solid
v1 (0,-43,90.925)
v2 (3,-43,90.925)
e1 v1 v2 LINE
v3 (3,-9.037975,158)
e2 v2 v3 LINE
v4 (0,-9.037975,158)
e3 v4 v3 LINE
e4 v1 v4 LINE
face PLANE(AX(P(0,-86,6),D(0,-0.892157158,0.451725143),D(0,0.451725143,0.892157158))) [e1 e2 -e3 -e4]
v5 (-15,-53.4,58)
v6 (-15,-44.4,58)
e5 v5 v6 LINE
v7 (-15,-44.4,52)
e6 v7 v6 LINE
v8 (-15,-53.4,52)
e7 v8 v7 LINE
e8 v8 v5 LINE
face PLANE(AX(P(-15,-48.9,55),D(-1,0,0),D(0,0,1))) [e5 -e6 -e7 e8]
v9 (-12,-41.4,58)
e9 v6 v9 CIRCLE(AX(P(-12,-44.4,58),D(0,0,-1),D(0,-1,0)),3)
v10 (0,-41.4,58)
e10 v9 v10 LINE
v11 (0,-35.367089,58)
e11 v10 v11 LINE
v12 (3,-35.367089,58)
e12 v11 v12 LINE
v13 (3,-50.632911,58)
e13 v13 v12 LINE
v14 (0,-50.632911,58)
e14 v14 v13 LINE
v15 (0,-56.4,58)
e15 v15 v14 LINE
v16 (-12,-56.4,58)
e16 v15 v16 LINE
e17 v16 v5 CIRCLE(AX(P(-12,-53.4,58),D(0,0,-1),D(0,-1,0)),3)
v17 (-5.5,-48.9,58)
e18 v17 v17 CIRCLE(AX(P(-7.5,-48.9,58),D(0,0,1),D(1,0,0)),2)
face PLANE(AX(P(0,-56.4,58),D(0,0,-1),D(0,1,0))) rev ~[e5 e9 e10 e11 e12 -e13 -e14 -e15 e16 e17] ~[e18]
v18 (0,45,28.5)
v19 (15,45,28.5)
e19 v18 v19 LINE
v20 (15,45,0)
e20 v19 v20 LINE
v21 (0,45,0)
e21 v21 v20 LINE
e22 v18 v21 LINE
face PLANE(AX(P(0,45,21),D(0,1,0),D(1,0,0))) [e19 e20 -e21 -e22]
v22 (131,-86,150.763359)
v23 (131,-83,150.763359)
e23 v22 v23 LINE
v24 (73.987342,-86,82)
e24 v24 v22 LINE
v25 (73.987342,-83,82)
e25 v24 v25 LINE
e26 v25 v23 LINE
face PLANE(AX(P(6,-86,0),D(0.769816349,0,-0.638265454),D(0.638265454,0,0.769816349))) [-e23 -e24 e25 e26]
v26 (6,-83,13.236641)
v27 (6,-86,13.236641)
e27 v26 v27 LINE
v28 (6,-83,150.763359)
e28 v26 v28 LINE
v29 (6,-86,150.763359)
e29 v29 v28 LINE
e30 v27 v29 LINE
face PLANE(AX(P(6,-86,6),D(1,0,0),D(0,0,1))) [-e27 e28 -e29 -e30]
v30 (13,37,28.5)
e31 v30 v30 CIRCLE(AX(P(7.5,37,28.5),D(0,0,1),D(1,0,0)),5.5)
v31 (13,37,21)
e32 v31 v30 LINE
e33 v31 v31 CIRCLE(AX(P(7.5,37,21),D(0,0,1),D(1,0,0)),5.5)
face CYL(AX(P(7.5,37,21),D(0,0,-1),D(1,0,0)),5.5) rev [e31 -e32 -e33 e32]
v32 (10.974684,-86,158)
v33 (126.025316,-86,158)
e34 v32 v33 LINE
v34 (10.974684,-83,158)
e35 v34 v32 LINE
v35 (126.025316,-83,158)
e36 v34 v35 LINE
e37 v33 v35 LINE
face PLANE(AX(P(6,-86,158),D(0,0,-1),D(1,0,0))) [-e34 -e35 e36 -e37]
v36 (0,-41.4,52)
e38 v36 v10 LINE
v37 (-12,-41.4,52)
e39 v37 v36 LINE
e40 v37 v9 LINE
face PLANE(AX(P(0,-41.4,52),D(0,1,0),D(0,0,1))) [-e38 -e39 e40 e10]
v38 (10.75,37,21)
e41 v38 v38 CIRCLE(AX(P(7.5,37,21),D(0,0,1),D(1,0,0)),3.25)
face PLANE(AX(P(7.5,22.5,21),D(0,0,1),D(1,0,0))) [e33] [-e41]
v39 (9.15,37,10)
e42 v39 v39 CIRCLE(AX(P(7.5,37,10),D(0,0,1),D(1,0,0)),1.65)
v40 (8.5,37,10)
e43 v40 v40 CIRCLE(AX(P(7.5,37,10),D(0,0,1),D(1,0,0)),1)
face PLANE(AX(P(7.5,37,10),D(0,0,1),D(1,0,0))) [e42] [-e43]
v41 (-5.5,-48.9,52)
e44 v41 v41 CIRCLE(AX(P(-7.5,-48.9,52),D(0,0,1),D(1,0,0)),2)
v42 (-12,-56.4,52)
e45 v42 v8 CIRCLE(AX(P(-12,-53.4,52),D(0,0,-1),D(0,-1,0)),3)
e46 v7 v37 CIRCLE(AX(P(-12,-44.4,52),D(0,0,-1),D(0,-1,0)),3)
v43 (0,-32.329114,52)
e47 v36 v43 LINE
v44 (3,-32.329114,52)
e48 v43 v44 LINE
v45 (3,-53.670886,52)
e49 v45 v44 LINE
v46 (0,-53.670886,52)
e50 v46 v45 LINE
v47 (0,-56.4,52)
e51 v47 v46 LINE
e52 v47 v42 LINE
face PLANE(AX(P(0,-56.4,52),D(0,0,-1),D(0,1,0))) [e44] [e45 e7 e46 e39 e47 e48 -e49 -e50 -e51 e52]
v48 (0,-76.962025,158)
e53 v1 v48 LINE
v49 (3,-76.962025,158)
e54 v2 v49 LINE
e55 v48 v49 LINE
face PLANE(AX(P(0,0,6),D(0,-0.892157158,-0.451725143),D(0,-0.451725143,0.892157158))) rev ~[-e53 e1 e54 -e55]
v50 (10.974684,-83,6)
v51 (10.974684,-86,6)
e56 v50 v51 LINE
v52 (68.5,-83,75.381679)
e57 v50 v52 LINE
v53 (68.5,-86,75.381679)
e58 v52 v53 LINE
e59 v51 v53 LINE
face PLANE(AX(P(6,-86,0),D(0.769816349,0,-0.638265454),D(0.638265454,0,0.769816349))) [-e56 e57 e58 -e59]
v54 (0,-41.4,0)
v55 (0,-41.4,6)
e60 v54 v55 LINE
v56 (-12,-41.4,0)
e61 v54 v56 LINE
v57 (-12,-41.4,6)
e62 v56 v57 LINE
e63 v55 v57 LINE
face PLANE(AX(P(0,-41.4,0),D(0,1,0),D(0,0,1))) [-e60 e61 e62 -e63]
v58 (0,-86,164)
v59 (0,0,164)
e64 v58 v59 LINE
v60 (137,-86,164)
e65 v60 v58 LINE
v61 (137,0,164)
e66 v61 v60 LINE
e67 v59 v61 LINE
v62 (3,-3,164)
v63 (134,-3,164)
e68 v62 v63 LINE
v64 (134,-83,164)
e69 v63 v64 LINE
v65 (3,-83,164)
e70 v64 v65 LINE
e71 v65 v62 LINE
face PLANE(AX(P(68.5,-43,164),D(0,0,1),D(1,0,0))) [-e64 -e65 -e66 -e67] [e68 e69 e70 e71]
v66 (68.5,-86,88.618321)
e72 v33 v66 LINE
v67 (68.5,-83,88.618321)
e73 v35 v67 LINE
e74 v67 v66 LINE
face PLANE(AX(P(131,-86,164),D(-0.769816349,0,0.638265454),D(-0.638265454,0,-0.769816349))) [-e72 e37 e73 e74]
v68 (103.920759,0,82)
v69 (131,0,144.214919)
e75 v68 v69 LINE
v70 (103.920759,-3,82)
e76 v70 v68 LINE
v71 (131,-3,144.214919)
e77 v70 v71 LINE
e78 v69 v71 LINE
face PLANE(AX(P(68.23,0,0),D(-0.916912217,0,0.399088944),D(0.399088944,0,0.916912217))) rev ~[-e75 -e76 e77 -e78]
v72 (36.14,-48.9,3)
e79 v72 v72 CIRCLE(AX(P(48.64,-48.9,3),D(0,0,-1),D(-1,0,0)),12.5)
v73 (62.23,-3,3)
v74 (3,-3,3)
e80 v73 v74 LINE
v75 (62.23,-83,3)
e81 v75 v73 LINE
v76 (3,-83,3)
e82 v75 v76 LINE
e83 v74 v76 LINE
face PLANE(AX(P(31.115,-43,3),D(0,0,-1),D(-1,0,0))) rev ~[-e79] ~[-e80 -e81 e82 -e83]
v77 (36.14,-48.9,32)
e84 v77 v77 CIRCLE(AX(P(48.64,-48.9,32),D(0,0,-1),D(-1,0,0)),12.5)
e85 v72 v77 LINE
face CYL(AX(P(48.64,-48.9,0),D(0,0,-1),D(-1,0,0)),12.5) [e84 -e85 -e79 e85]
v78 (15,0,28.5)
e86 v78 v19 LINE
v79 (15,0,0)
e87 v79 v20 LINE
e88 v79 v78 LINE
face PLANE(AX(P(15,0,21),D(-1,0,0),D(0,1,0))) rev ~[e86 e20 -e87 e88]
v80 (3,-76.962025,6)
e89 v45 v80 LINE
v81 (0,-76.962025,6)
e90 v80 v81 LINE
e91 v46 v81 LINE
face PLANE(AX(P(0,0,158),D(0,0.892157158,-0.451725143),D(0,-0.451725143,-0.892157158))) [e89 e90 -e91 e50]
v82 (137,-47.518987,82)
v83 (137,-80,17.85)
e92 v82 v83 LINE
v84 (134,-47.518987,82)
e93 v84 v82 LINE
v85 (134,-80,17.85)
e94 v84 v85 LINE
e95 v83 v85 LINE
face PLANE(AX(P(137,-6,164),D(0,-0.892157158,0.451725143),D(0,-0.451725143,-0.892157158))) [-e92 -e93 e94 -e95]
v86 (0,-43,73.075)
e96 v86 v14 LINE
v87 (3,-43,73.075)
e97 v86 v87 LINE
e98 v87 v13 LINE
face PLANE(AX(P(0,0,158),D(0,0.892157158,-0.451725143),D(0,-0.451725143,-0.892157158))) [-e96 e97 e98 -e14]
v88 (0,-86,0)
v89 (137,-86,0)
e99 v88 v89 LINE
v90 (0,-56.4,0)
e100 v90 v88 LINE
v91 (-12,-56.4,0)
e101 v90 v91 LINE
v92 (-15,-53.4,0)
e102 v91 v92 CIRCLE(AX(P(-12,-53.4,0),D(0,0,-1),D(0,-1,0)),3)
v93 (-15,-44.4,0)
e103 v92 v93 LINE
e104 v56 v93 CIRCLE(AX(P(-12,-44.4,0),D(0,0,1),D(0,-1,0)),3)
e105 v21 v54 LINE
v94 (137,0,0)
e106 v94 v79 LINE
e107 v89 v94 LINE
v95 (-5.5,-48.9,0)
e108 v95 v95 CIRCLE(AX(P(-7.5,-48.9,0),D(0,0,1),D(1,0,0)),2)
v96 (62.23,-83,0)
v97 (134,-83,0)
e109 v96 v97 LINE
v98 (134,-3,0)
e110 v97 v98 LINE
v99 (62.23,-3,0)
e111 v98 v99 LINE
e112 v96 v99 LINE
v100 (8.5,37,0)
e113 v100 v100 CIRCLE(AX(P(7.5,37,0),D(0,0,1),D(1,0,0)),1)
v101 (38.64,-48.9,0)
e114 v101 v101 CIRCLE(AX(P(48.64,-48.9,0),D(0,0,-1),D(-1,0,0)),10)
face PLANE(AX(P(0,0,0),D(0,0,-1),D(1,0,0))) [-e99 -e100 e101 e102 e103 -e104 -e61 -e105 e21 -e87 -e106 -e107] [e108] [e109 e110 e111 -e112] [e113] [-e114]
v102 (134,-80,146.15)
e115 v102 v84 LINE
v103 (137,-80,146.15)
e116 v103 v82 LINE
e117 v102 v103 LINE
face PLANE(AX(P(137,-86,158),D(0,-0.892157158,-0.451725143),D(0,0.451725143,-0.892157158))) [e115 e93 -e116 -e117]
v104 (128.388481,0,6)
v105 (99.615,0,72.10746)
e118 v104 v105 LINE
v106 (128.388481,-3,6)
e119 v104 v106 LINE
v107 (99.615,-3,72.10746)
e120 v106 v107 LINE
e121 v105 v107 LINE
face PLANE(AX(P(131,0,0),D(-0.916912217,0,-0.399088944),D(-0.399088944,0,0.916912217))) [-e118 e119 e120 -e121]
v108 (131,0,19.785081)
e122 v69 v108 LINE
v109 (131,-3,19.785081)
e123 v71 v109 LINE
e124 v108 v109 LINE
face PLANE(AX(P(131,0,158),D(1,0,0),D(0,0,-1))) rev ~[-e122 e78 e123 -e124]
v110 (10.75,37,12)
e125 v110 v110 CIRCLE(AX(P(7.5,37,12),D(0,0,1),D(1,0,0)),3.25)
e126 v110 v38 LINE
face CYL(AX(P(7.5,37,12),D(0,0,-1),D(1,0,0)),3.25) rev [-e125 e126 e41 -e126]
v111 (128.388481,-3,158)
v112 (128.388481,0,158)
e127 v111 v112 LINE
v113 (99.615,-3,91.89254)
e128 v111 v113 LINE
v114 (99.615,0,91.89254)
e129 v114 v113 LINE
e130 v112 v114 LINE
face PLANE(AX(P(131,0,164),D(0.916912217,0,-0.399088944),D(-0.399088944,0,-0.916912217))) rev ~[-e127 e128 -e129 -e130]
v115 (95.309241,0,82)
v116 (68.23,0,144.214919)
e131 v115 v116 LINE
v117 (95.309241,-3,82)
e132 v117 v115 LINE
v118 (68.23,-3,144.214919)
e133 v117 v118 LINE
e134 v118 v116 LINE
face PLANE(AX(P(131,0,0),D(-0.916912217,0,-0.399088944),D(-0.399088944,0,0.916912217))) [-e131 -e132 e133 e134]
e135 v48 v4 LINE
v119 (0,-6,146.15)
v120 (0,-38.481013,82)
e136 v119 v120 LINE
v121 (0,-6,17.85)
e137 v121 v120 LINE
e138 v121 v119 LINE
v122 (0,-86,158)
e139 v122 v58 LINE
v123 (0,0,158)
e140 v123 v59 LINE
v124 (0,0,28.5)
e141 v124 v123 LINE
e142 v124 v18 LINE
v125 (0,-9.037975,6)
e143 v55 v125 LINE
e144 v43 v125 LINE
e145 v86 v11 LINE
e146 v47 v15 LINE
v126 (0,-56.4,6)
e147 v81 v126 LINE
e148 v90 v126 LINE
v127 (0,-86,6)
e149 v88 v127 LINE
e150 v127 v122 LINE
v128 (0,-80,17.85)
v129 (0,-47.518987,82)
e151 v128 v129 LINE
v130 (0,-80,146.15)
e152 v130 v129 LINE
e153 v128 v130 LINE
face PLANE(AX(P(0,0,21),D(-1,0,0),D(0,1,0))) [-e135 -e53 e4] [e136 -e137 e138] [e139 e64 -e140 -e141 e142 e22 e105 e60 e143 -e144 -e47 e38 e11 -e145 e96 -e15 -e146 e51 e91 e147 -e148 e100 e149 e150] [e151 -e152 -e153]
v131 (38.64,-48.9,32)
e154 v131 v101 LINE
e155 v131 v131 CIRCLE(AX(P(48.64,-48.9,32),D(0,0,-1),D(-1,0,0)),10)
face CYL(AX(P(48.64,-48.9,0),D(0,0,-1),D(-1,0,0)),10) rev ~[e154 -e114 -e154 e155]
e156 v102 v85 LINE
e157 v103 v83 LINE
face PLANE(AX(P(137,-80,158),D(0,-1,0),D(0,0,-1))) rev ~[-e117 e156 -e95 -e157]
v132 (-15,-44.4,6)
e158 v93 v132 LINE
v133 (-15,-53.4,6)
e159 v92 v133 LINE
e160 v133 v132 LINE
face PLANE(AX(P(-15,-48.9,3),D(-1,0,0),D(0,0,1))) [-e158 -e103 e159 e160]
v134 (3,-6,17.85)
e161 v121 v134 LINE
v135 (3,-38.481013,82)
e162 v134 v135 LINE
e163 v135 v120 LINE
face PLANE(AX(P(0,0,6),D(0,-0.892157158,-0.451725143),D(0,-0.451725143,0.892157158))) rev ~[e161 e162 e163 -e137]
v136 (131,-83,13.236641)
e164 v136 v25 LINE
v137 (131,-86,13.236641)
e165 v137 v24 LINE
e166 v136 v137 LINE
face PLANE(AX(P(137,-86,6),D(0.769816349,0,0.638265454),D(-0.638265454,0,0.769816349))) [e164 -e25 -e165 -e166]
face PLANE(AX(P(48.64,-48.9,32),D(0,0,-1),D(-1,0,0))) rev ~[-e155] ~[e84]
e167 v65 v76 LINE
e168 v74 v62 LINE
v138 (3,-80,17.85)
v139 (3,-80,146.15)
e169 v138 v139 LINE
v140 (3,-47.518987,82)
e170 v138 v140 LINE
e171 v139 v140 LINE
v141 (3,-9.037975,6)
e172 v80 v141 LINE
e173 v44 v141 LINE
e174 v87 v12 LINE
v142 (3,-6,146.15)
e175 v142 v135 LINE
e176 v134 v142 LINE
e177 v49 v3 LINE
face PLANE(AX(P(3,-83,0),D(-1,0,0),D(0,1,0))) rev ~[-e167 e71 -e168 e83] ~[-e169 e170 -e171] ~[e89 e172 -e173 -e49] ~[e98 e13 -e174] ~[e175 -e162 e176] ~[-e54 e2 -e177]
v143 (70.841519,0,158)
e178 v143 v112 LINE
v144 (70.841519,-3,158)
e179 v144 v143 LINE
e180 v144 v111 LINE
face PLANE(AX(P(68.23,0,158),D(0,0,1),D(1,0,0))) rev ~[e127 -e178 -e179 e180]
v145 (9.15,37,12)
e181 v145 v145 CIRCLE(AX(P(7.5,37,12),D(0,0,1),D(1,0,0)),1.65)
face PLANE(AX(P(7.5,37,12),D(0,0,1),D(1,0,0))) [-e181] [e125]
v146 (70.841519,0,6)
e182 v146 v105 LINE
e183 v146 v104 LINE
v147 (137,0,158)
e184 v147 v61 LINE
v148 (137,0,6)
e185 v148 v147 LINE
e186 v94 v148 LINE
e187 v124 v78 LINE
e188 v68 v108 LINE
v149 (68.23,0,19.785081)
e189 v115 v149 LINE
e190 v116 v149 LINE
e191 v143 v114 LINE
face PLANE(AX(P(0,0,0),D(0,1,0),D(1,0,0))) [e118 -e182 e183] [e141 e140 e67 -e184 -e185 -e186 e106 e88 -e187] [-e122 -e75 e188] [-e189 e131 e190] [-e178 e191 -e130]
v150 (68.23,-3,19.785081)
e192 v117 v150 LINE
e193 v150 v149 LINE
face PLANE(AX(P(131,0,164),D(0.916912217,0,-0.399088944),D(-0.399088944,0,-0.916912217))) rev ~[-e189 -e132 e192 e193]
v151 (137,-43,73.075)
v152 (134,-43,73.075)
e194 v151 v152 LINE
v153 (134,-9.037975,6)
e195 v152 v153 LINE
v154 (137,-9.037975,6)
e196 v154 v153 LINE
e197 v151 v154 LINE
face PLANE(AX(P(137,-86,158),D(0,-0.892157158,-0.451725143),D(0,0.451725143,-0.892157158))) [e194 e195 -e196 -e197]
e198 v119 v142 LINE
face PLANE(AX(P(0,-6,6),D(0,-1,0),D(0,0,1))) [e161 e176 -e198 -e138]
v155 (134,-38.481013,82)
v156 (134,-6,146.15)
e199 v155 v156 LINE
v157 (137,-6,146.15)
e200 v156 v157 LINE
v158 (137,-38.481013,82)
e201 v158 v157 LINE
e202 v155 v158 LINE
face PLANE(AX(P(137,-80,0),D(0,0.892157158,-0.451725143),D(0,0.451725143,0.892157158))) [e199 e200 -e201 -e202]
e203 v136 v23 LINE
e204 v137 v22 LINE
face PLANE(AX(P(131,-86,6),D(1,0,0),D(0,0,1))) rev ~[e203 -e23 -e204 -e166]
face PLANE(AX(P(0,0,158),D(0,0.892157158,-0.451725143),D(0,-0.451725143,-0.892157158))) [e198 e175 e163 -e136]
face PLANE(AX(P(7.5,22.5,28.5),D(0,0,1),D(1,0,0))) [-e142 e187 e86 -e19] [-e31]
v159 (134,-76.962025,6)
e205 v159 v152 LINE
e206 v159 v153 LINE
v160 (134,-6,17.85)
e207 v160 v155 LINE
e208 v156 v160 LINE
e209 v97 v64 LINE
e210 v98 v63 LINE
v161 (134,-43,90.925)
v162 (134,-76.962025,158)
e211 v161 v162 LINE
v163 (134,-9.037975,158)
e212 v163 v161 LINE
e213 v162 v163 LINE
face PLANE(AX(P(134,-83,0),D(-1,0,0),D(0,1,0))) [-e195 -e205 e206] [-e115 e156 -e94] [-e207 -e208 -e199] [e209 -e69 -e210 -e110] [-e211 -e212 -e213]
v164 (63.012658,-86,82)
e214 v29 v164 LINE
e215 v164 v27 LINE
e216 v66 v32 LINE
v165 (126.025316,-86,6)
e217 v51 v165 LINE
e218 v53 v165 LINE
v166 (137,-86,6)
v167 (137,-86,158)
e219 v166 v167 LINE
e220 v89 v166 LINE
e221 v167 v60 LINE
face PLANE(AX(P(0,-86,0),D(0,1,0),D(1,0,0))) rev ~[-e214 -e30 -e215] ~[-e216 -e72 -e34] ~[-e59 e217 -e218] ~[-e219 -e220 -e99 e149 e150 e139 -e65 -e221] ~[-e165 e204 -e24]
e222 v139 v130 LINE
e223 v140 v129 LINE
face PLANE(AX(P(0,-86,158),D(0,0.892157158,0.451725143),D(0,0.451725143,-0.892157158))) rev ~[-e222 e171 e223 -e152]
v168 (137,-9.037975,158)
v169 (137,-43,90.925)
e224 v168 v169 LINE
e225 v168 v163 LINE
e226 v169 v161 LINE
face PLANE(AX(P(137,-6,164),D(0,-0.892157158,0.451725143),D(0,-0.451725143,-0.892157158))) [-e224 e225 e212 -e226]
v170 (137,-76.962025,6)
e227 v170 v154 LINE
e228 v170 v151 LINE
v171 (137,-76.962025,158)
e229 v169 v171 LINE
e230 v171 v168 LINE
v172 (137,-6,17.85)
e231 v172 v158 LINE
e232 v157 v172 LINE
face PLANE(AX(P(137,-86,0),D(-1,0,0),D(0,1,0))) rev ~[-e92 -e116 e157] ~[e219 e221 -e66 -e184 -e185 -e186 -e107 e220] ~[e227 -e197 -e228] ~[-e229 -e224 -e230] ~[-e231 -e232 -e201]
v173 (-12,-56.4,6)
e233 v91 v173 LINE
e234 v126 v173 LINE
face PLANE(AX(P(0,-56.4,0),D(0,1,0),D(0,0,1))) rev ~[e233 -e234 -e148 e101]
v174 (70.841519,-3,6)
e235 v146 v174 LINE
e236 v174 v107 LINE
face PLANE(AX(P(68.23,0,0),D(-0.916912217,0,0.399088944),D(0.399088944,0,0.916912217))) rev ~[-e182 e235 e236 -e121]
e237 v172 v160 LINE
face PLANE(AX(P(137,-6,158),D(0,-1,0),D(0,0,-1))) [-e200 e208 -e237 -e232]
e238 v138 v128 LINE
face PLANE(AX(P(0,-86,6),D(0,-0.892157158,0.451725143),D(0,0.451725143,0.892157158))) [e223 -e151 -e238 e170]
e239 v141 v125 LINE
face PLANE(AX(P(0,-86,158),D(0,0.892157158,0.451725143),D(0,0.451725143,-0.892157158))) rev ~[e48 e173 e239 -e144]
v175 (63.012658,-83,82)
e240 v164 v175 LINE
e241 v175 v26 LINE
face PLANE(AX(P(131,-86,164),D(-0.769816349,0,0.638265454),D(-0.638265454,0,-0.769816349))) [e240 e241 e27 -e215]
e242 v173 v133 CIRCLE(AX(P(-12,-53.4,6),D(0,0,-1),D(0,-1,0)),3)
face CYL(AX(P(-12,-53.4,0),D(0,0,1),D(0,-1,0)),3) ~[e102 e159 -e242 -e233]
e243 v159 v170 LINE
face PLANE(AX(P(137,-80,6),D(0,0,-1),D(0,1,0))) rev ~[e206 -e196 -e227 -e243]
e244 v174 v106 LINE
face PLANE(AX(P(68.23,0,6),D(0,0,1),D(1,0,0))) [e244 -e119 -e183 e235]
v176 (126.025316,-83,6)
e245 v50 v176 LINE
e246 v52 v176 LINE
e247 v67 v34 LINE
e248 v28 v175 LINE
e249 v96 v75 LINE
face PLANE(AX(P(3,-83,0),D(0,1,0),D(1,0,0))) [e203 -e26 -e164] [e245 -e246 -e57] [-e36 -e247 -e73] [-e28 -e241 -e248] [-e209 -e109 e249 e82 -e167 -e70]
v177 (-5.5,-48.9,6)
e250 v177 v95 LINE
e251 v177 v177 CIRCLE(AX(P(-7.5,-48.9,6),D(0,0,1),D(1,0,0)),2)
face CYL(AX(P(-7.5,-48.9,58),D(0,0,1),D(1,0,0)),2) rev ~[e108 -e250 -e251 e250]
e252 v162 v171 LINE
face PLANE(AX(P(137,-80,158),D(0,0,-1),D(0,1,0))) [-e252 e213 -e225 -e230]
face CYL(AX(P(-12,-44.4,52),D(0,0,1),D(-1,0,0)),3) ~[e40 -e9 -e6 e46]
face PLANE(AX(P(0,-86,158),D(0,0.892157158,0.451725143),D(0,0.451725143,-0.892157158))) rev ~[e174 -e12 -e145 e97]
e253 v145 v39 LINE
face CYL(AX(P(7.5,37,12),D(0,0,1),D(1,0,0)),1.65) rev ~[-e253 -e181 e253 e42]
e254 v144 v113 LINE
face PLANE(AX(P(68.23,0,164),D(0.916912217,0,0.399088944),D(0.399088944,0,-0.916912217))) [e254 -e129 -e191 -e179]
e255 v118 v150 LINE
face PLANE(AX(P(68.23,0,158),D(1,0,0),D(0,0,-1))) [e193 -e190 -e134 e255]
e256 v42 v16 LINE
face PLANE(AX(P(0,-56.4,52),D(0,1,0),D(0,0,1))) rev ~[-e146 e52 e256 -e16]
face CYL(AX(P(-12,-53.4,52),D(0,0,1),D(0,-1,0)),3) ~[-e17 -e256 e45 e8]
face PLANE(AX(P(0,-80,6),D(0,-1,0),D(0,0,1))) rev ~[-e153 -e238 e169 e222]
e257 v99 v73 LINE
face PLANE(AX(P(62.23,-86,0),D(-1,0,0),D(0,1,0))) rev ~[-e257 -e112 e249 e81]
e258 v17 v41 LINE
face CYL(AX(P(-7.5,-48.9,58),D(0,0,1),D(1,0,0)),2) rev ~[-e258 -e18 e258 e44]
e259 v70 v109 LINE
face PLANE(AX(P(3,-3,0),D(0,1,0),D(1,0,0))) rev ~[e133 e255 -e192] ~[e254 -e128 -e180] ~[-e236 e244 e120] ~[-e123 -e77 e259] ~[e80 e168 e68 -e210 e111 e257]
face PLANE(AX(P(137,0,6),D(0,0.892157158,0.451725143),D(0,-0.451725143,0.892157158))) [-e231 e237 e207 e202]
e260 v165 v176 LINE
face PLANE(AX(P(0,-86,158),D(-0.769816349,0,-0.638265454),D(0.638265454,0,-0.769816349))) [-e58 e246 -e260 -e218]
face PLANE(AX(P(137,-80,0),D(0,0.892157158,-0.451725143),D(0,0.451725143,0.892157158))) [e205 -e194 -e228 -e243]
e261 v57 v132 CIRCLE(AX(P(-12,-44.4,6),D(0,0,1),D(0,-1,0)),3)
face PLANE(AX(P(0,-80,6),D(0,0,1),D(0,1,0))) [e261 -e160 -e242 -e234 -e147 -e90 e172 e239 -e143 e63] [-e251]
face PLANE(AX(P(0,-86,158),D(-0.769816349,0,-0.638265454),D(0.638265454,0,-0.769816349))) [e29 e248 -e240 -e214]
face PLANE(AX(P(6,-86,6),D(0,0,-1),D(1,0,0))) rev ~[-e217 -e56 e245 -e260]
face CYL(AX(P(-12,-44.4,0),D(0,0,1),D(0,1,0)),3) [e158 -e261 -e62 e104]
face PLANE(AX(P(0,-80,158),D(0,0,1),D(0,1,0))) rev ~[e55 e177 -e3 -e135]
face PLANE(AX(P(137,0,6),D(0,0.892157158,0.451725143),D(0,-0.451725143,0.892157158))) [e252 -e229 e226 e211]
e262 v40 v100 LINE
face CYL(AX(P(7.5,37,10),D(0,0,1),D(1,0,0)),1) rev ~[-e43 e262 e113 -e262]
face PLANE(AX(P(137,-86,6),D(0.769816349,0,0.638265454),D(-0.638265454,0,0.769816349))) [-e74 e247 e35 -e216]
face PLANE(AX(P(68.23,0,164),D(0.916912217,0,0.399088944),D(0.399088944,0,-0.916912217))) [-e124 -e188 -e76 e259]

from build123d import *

# Parameters (mm, degrees)
SKETCH1_W            = 137
SKETCH1_H            = 86
SKETCH1_W_2          = 131
SKETCH1_H_2          = 80
BOSS_EXTRUDE1_DEPTH  = 164
SKETCH2_W            = 125
SKETCH2_H            = 152
CUT_EXTRUDE1_DEPTH   = 3
BOSS_EXTRUDE2_DEPTH  = 3
BOSS_EXTRUDE3_DEPTH  = 3
SKETCH3_W            = 152
SKETCH3_H            = 74
CUT_EXTRUDE2_DEPTH   = 3
BOSS_EXTRUDE4_DEPTH  = 3
BOSS_EXTRUDE5_DEPTH  = 3
SKETCH4_W            = 152
SKETCH4_H            = 74
CUT_EXTRUDE3_DEPTH   = 3
BOSS_EXTRUDE6_DEPTH  = 3
BOSS_EXTRUDE7_DEPTH  = 3
SKETCH6_W            = 62.23
SKETCH6_H            = 86
BOSS_EXTRUDE8_DEPTH  = 3
SKETCH7_W            = 62.77
SKETCH7_H            = 152
CUT_EXTRUDE4_DEPTH   = 3
BOSS_EXTRUDE9_DEPTH  = 3
BOSS_EXTRUDE10_DEPTH = 3
SKETCH8_R            = 12.5
SKETCH8_R_2          = 10
BOSS_EXTRUDE11_DEPTH = 32
SKETCH8_4_R          = 10
CUT_EXTRUDE8_DEPTH   = 32
SKETCH9_W            = 6
SKETCH9_H            = 15
BOSS_EXTRUDE12_DEPTH = 15
SKETCH9_3_W          = 6
SKETCH9_3_H          = 15
BOSS_EXTRUDE13_DEPTH = 12
SKETCH9_4_W          = 6
SKETCH9_4_H          = 15
BOSS_EXTRUDE14_DEPTH = 15
FILLET1_R            = 3
SKETCH9_5_W          = 6
SKETCH9_5_H          = 28.664942424
BOSS_EXTRUDE17_DEPTH = 3
SKETCH16_R           = 2
CUT_EXTRUDE13_DEPTH  = 64
SKETCH11_W           = 15
SKETCH11_H           = 10
BOSS_EXTRUDE18_DEPTH = 45
SKETCH18_R           = 1
CUT_EXTRUDE14_DEPTH  = 10
SKETCH19_W           = 15
SKETCH19_H           = 45
BOSS_EXTRUDE19_DEPTH = 2
SKETCH20_R           = 1.65
CUT_EXTRUDE15_DEPTH  = 2
SKETCH21_W           = 15
SKETCH21_H           = 45
BOSS_EXTRUDE20_DEPTH = 9
SKETCH21_3_R         = 3.25
CUT_EXTRUDE16_DEPTH  = 9
SKETCH25_W           = 15
SKETCH25_H           = 45
SKETCH25_R           = 5.5
BOSS_EXTRUDE21_DEPTH = 7.5


with BuildPart() as part:
    # Sketch1 → Boss-Extrude1 (new body)
    with BuildSketch(Plane.XY):
        with Locations((68.5, -43)):
            Rectangle(SKETCH1_W, SKETCH1_H)
        with Locations((68.5, -43)):
            Rectangle(SKETCH1_W_2, SKETCH1_H_2, mode=Mode.SUBTRACT)
    extrude(amount=BOSS_EXTRUDE1_DEPTH)

    # Sketch2 → Cut-Extrude1 (cut)
    with BuildSketch(Plane.XZ.offset(86)):
        with Locations((68.5, 82)):
            Rectangle(SKETCH2_W, SKETCH2_H)
    extrude(amount=-CUT_EXTRUDE1_DEPTH, mode=Mode.SUBTRACT)

    # Sketch2<3> → Boss-Extrude2 (add)
    with BuildSketch(Plane.XZ.offset(86)):
        Polygon((0, 158), (131, 0), (137, 6), (6, 164), align=None)
    extrude(amount=-BOSS_EXTRUDE2_DEPTH)

    # Sketch2<4> → Boss-Extrude3 (add)
    with BuildSketch(Plane.XZ.offset(86)):
        Polygon((131, 164), (0, 6), (6, 0), (137, 158), align=None)
    extrude(amount=-BOSS_EXTRUDE3_DEPTH)

    # Sketch3 → Cut-Extrude2 (cut)
    with BuildSketch(Plane(origin=(137, 0, 0), x_dir=(0, 0, -1), z_dir=(1, 0, 0))):
        with Locations((-82, -43)):
            Rectangle(SKETCH3_W, SKETCH3_H)
    extrude(amount=-CUT_EXTRUDE2_DEPTH, mode=Mode.SUBTRACT)

    # Sketch3<3> → Boss-Extrude4 (add)
    with BuildSketch(Plane(origin=(137, 0, 0), x_dir=(0, 0, -1), z_dir=(1, 0, 0))):
        Polygon((-164, -6), (-6, -86), (0, -80), (-158, 0), align=None)
    extrude(amount=-BOSS_EXTRUDE4_DEPTH)

    # Sketch3<5> → Boss-Extrude5 (add)
    with BuildSketch(Plane(origin=(137, 0, 0), x_dir=(0, 0, -1), z_dir=(1, 0, 0))):
        Polygon((-158, -86), (0, -6), (-6, 0), (-164, -80), align=None)
    extrude(amount=-BOSS_EXTRUDE5_DEPTH)

    # Sketch4 → Cut-Extrude3 (cut)
    with BuildSketch(Plane.ZY):
        with Locations((82, -43)):
            Rectangle(SKETCH4_W, SKETCH4_H)
    extrude(amount=-CUT_EXTRUDE3_DEPTH, mode=Mode.SUBTRACT)

    # Sketch4<4> → Boss-Extrude6 (add)
    with BuildSketch(Plane.ZY):
        Polygon((158, 0), (0, -80), (6, -86), (164, -6), align=None)
    extrude(amount=-BOSS_EXTRUDE6_DEPTH)

    # Sketch4<5> → Boss-Extrude7 (add)
    with BuildSketch(Plane.ZY):
        Polygon((6, 0), (164, -80), (158, -86), (0, -6), align=None)
    extrude(amount=-BOSS_EXTRUDE7_DEPTH)

    # Sketch6 → Boss-Extrude8 (add)
    with BuildSketch(Plane(origin=(0, 0, 0), x_dir=(-1, 0, 0), z_dir=(0, 0, -1))):
        with Locations((-31.115, -43)):
            Rectangle(SKETCH6_W, SKETCH6_H)
    extrude(amount=-BOSS_EXTRUDE8_DEPTH)

    # Sketch7 → Cut-Extrude4 (cut)
    with BuildSketch(Plane(origin=(0, 0, 0), x_dir=(1, 0, 0), z_dir=(0, 1, 0))):
        with Locations((99.615, -82)):
            Rectangle(SKETCH7_W, SKETCH7_H)
    extrude(amount=-CUT_EXTRUDE4_DEPTH, mode=Mode.SUBTRACT)

    # Sketch7<3> → Boss-Extrude9 (add)
    with BuildSketch(Plane(origin=(0, 0, 0), x_dir=(1, 0, 0), z_dir=(0, 1, 0))):
        Polygon((68.23, 0), (137, -158), (131, -164), (62.23, -6), align=None)
    extrude(amount=-BOSS_EXTRUDE9_DEPTH)

    # Sketch7<4> → Boss-Extrude10 (add)
    with BuildSketch(Plane(origin=(0, 0, 0), x_dir=(1, 0, 0), z_dir=(0, 1, 0))):
        Polygon((131, 0), (62.23, -158), (68.23, -164), (137, -6), align=None)
    extrude(amount=-BOSS_EXTRUDE10_DEPTH)

    # Sketch8 → Boss-Extrude11 (add)
    with BuildSketch(Plane(origin=(0, 0, 0), x_dir=(-1, 0, 0), z_dir=(0, 0, -1))):
        with Locations((-48.64, -48.9)):
            Circle(SKETCH8_R)
        with Locations((-48.64, -48.9)):
            Circle(SKETCH8_R_2, mode=Mode.SUBTRACT)
    extrude(amount=-BOSS_EXTRUDE11_DEPTH)

    # Sketch8<4> → Cut-Extrude8 (cut)
    with BuildSketch(Plane(origin=(0, 0, 0), x_dir=(-1, 0, 0), z_dir=(0, 0, -1))):
        with Locations((-48.64, -48.9)):
            Circle(SKETCH8_4_R)
    extrude(amount=-CUT_EXTRUDE8_DEPTH, mode=Mode.SUBTRACT)

    # Sketch9 → Boss-Extrude12 (add)
    with BuildSketch(Plane.ZY):
        with Locations((55, -48.9)):
            Rectangle(SKETCH9_W, SKETCH9_H)
    extrude(amount=BOSS_EXTRUDE12_DEPTH)

    # Sketch9<3> → Boss-Extrude13 (add)
    with BuildSketch(Plane.ZY):
        with Locations((55, -48.9)):
            Rectangle(SKETCH9_3_W, SKETCH9_3_H)
    extrude(amount=BOSS_EXTRUDE13_DEPTH)

    # Sketch9<4> → Boss-Extrude14 (add)
    with BuildSketch(Plane.ZY):
        with Locations((3, -48.9)):
            Rectangle(SKETCH9_4_W, SKETCH9_4_H)
    extrude(amount=BOSS_EXTRUDE14_DEPTH)

    # Fillet1
    fillet1_edges = [part.edges().sort_by_distance(p)[0] for p in [
        (-15, -56.4, 55),
        (-15, -41.4, 55),
        (-15, -56.4, 3),
        (-15, -41.4, 3),
    ]]
    fillet(fillet1_edges, radius=FILLET1_R)

    # Sketch9<5> → Boss-Extrude17 (add)
    with BuildSketch(Plane.ZY):
        with Locations((55, -42.711986128)):
            Rectangle(SKETCH9_5_W, SKETCH9_5_H)
    extrude(amount=-BOSS_EXTRUDE17_DEPTH)

    # Sketch16 → Cut-Extrude13 (cut)
    with BuildSketch(Plane.XY.offset(58)):
        with Locations((-7.5, -48.9)):
            Circle(SKETCH16_R)
    extrude(amount=-CUT_EXTRUDE13_DEPTH, mode=Mode.SUBTRACT)

    # Sketch11 → Boss-Extrude18 (add)
    with BuildSketch(Plane(origin=(0, 0, 0), x_dir=(1, 0, 0), z_dir=(0, 1, 0))):
        with Locations((7.5, -5)):
            Rectangle(SKETCH11_W, SKETCH11_H)
    extrude(amount=BOSS_EXTRUDE18_DEPTH)

    # Sketch18 → Cut-Extrude14 (cut)
    with BuildSketch(Plane.XY.offset(10)):
        with Locations((7.5, 37)):
            Circle(SKETCH18_R)
    extrude(amount=-CUT_EXTRUDE14_DEPTH, mode=Mode.SUBTRACT)

    # Sketch19 → Boss-Extrude19 (add)
    with BuildSketch(Plane.XY.offset(10)):
        with Locations((7.5, 22.5)):
            Rectangle(SKETCH19_W, SKETCH19_H)
    extrude(amount=BOSS_EXTRUDE19_DEPTH)

    # Sketch20 → Cut-Extrude15 (cut)
    with BuildSketch(Plane.XY.offset(12)):
        with Locations((7.5, 37)):
            Circle(SKETCH20_R)
    extrude(amount=-CUT_EXTRUDE15_DEPTH, mode=Mode.SUBTRACT)

    # Sketch21 → Boss-Extrude20 (add)
    with BuildSketch(Plane.XY.offset(12)):
        with Locations((7.5, 22.5)):
            Rectangle(SKETCH21_W, SKETCH21_H)
    extrude(amount=BOSS_EXTRUDE20_DEPTH)

    # Sketch21<3> → Cut-Extrude16 (cut)
    with BuildSketch(Plane.XY.offset(12)):
        with Locations((7.5, 37)):
            Circle(SKETCH21_3_R)
    extrude(amount=CUT_EXTRUDE16_DEPTH, mode=Mode.SUBTRACT)

    # Sketch25 → Boss-Extrude21 (add)
    with BuildSketch(Plane.XY.offset(21)):
        with Locations((7.5, 22.5)):
            Rectangle(SKETCH25_W, SKETCH25_H)
        with Locations((7.5, 37)):
            Circle(SKETCH25_R, mode=Mode.SUBTRACT)
    extrude(amount=BOSS_EXTRUDE21_DEPTH)


solid = part.part
